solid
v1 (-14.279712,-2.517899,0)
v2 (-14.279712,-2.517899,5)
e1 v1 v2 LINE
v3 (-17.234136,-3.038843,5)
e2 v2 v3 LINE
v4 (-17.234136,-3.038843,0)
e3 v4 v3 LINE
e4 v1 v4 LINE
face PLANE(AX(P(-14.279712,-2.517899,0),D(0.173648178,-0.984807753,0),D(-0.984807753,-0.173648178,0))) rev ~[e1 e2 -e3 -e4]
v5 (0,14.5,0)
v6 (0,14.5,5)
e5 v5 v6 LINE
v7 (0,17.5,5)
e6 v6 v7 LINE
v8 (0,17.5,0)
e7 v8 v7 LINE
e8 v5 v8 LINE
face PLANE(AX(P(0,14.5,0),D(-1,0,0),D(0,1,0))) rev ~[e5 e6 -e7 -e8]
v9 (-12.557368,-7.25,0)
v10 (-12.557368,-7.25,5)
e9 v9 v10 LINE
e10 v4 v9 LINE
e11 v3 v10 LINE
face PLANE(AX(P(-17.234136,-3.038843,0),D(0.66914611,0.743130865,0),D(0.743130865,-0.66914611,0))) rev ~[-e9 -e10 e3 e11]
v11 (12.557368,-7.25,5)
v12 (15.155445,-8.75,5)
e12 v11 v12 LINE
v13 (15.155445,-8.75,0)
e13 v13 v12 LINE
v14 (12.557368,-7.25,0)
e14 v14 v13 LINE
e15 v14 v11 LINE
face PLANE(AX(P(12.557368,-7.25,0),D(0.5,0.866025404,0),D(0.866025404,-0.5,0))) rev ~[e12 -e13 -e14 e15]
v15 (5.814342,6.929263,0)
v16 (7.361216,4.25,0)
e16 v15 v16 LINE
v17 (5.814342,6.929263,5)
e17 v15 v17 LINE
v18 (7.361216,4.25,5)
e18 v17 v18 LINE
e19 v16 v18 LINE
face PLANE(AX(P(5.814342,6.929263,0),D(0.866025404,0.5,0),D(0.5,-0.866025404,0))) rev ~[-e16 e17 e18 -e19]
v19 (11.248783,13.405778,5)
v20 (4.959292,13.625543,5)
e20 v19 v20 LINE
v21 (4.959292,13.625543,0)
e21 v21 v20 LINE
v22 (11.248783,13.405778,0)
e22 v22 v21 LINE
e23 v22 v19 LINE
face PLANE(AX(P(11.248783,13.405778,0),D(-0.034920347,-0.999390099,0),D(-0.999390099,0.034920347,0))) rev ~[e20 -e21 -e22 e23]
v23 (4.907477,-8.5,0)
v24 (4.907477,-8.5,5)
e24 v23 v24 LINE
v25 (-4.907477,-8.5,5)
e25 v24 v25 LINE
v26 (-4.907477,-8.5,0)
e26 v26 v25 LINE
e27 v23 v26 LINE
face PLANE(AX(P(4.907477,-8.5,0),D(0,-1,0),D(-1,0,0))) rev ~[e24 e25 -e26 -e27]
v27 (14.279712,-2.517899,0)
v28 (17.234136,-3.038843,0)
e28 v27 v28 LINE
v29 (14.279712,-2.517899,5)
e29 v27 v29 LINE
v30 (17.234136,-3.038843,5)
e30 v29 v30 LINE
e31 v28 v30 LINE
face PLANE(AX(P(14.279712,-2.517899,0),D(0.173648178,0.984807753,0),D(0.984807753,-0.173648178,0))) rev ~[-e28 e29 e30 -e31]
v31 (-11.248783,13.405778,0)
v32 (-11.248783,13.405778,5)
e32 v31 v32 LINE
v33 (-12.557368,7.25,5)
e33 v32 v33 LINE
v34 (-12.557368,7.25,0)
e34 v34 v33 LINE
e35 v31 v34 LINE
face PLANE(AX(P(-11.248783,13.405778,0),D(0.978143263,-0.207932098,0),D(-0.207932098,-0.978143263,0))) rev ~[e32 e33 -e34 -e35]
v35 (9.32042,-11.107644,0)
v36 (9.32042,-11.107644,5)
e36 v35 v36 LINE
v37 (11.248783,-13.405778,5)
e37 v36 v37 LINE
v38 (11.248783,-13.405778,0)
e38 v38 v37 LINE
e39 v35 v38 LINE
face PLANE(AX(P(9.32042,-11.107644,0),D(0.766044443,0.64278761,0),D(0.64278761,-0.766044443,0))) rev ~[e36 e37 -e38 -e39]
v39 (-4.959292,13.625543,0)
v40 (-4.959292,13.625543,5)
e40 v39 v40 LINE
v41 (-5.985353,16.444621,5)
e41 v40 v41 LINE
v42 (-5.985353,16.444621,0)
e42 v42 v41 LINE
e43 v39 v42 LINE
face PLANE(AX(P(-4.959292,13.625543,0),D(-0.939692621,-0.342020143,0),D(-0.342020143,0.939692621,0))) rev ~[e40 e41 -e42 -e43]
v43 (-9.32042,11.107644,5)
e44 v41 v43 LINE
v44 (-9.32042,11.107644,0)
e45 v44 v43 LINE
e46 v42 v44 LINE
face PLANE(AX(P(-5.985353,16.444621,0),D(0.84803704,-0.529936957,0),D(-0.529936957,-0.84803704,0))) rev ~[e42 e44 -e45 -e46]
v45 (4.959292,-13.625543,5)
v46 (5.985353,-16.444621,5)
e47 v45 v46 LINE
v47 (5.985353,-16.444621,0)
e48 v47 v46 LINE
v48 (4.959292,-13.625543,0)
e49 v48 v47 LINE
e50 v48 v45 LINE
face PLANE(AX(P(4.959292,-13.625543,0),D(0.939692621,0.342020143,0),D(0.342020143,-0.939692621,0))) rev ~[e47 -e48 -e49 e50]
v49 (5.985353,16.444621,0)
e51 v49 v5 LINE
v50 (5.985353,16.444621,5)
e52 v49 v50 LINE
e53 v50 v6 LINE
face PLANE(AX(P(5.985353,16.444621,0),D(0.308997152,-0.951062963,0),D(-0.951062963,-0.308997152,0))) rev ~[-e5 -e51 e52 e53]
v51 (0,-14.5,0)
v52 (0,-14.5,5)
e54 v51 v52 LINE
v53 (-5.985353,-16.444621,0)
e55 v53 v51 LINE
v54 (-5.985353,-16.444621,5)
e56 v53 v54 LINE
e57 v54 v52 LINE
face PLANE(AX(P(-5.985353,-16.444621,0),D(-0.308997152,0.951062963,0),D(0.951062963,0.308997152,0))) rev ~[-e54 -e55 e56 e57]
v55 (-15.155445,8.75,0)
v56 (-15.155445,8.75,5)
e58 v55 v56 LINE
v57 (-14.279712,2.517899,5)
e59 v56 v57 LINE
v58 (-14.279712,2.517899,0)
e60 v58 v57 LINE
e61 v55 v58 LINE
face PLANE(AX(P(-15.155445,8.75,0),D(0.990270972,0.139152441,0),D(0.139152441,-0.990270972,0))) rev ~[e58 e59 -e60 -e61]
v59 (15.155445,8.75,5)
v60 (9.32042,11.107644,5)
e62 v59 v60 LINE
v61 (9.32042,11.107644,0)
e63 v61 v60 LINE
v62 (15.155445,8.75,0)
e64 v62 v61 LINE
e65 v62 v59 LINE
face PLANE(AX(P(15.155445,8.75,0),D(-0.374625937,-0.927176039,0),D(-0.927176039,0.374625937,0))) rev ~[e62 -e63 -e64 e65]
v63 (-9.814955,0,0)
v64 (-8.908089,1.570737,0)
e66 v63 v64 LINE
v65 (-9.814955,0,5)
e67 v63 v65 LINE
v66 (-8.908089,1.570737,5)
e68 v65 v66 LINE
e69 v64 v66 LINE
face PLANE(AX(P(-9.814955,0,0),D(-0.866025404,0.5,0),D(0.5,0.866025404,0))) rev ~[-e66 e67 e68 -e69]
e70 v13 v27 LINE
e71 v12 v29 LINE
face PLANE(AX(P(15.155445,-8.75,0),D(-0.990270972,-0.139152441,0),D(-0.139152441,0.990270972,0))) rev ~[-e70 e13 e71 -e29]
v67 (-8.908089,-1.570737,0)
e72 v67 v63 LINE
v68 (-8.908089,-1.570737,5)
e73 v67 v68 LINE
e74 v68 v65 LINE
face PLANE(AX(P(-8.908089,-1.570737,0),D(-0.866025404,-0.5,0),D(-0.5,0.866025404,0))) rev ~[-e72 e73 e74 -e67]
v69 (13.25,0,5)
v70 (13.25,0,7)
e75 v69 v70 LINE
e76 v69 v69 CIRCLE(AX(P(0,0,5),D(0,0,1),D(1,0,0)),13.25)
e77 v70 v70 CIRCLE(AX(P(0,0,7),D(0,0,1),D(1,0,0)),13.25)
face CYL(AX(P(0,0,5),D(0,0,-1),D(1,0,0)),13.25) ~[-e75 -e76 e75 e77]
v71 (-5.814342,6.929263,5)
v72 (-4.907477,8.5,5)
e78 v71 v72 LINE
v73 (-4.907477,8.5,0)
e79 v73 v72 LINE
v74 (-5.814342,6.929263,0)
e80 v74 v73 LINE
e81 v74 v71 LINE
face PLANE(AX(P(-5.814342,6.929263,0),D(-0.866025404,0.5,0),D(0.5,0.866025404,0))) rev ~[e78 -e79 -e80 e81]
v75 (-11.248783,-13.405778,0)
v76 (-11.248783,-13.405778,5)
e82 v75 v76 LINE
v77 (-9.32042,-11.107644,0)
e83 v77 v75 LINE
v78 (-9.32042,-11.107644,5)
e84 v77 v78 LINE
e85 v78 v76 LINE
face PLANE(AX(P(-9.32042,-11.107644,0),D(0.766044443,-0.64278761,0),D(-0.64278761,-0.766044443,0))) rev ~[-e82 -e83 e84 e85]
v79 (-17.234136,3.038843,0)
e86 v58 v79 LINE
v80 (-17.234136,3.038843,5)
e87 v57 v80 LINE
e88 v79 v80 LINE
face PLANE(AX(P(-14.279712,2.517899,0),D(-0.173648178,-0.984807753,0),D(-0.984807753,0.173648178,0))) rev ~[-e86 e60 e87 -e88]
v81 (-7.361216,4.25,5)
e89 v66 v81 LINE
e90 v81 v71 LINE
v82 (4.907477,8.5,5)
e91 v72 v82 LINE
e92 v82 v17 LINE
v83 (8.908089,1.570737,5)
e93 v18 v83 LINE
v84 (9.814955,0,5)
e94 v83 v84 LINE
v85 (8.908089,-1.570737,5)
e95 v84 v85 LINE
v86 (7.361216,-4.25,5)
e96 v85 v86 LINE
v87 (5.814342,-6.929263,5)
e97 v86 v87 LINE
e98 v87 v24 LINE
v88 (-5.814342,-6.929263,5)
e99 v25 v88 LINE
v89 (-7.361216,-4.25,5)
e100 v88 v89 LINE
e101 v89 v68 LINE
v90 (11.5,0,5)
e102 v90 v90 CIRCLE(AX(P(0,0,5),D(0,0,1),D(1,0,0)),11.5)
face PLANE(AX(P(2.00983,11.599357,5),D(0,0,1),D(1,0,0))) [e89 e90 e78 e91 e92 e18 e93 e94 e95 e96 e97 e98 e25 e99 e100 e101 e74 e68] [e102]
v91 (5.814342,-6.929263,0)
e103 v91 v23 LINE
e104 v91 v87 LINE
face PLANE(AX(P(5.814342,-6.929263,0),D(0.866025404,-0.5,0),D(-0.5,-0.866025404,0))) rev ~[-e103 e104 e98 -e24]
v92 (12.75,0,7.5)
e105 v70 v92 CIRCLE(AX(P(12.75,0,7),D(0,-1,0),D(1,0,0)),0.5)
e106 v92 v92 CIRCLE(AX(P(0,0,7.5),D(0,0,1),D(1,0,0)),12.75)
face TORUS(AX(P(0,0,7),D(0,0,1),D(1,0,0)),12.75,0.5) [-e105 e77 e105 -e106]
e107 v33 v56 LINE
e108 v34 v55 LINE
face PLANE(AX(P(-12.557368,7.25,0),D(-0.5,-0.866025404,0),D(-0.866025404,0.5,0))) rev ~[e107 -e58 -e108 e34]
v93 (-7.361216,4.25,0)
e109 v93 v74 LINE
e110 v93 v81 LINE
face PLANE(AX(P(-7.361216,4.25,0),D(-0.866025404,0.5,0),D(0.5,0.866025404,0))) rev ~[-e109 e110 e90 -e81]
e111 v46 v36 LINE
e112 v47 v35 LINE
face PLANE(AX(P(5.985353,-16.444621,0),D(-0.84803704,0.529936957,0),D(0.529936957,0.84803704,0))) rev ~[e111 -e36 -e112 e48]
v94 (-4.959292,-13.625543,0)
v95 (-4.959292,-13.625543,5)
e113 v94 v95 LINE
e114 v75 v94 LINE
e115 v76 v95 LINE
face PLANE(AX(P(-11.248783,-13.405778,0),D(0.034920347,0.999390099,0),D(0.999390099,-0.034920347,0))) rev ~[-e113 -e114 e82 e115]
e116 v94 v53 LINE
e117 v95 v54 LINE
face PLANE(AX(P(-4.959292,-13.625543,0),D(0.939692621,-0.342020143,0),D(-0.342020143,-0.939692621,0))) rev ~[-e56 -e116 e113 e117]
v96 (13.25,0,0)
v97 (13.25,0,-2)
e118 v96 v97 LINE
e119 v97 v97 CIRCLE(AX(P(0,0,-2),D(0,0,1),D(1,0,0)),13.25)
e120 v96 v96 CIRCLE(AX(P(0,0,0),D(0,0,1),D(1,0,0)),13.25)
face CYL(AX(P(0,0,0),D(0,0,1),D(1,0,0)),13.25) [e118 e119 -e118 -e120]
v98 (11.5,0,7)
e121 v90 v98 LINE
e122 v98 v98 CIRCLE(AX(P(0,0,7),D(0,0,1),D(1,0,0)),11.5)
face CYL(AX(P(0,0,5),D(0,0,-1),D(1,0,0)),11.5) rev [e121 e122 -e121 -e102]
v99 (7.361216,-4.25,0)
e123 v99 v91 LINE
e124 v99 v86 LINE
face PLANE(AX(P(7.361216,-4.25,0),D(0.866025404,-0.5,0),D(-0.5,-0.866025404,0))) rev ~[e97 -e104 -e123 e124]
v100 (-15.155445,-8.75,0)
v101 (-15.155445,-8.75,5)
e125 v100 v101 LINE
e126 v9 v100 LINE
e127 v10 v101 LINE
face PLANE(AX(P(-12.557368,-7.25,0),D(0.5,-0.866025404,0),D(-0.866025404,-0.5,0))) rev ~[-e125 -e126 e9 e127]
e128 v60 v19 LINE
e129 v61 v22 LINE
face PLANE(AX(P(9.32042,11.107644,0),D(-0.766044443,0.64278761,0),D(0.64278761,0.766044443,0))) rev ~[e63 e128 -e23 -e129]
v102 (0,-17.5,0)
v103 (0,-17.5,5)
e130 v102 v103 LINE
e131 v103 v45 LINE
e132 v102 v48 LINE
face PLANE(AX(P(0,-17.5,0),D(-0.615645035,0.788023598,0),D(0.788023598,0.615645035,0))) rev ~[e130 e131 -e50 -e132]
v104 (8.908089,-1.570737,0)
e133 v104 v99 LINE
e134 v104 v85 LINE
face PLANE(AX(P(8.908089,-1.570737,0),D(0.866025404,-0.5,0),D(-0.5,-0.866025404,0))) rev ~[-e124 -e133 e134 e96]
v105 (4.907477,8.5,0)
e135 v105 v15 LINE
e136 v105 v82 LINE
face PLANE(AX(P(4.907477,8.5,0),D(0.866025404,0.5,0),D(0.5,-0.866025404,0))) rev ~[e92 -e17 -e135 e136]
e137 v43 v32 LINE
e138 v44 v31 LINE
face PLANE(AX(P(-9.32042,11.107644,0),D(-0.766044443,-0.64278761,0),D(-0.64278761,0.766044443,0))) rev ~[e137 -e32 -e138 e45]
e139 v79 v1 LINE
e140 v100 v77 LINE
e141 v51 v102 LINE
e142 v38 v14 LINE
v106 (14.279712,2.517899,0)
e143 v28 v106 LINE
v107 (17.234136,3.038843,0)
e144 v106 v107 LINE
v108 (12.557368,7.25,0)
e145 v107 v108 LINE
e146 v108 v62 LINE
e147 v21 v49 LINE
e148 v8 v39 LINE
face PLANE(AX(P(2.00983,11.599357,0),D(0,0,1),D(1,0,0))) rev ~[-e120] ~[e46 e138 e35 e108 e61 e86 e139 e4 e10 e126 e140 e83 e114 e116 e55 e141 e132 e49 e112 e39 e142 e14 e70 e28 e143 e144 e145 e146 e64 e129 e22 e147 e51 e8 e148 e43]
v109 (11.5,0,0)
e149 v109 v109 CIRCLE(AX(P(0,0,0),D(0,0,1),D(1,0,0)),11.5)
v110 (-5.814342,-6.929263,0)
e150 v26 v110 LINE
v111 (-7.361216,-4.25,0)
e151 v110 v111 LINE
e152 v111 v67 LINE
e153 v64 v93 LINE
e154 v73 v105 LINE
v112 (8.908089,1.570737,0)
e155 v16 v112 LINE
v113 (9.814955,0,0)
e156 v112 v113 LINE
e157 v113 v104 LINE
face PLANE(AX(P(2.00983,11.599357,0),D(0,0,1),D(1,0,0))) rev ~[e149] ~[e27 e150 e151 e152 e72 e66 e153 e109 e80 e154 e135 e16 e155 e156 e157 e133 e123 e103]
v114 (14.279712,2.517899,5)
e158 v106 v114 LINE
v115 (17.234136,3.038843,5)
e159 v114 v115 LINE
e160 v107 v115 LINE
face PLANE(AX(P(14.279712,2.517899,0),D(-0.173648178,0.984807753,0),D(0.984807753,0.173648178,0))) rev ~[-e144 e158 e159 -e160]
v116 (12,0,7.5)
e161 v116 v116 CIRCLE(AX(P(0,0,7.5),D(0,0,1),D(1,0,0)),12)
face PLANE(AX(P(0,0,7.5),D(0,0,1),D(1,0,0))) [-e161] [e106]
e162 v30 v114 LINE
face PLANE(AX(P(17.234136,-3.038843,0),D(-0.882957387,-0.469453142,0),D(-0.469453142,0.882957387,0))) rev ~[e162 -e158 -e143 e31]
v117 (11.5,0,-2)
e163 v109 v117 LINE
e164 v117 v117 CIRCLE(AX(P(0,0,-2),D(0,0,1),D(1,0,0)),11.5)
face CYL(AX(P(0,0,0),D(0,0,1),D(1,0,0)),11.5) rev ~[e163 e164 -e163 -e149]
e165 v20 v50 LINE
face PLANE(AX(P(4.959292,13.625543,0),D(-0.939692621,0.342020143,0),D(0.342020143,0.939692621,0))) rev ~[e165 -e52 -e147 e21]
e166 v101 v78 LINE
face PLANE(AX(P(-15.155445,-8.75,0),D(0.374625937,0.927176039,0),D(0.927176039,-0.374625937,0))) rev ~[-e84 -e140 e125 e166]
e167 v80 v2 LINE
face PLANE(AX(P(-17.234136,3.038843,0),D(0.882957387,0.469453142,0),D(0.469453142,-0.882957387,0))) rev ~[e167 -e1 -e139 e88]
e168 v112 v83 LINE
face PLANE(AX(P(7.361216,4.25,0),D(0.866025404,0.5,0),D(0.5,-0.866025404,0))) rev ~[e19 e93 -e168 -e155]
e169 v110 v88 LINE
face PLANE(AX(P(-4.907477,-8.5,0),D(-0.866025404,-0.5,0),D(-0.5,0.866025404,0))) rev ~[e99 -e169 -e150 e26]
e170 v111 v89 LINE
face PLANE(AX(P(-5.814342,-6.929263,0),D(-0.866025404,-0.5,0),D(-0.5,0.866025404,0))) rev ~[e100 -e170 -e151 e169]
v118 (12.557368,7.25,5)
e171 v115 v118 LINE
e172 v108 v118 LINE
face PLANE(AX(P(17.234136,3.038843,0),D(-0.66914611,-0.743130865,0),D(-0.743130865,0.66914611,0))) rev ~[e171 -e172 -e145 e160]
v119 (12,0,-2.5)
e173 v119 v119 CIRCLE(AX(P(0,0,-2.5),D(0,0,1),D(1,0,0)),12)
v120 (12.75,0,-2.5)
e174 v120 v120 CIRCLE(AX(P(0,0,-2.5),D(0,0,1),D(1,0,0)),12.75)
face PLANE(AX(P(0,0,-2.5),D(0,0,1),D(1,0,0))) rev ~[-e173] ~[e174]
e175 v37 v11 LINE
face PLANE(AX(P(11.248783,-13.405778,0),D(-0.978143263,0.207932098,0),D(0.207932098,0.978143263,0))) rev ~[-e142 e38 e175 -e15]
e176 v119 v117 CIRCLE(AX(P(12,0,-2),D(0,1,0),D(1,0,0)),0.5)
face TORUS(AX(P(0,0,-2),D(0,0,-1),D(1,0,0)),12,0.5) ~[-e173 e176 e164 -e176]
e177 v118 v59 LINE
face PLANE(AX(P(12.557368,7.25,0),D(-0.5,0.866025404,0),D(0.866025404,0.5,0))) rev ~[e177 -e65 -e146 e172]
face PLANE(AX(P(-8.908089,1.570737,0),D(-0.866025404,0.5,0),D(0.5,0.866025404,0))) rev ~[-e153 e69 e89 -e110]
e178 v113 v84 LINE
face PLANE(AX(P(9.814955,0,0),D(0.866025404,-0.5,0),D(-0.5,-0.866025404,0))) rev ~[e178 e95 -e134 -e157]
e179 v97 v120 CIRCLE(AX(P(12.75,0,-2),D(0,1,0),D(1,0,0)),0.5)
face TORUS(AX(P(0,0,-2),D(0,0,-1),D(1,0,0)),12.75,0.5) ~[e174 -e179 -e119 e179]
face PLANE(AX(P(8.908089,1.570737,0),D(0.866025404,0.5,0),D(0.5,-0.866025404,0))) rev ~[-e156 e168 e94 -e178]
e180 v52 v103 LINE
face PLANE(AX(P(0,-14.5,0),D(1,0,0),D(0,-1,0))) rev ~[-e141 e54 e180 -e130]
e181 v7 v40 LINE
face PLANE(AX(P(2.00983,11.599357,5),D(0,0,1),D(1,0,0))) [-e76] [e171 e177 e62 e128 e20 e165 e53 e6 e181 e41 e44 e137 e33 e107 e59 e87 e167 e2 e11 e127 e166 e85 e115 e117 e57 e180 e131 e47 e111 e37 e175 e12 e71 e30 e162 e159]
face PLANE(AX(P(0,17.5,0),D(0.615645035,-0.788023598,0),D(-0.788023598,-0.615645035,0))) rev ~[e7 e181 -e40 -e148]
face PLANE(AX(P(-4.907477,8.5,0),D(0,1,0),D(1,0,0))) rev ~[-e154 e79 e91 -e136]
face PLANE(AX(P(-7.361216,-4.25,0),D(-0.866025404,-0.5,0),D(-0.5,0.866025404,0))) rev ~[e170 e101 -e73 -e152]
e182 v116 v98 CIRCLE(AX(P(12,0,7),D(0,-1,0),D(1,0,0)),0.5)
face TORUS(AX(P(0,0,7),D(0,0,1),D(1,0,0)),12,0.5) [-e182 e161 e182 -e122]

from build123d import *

# Parameters (mm, degrees)
F1_DEPTH = 5
F2_R     = 13.25
F2_R_2   = 11.5
F3_DEPTH = 2.5
F4_R     = 13.25
F4_R_2   = 11.5
F5_DEPTH = 2.5
F6_R     = 0.5


with BuildPart() as f1:
    # F0 (on Top) → F1 (new body)
    with BuildSketch(Plane.XY):
        with BuildLine():
            Line((3.0937469913, 8.5), (4.9592920782, 13.6255430014))
            ThreePointArc((4.9592920782, 13.6255430014), (2.5178985762, 14.2797124187), (0, 14.5))
            Line((0, 14.5), (0, 8.5))
            Line((0, 8.5), (3.0937469913, 8.5))
        make_face()
        with BuildLine():
            ThreePointArc((0, 14.5), (2.5178985762, 14.2797124187), (4.9592920782, 13.6255430014))
            Line((4.9592920782, 13.6255430014), (5.9853525082, 16.4446208638))
            Line((5.9853525082, 16.4446208638), (0, 14.5))
        make_face()
        with BuildLine():
            Line((-3.0937469913, 8.5), (0, 8.5))
            Line((0, 8.5), (0, 14.5))
            ThreePointArc((0, 14.5), (-2.5178985762, 14.2797124187), (-4.9592920782, 13.6255430014))
            Line((-4.9592920782, 13.6255430014), (-3.0937469913, 8.5))
        make_face()
        with BuildLine():
            ThreePointArc((-4.9592920782, 13.6255430014), (-2.5178985762, 14.2797124187), (0, 14.5))
            Line((0, 14.5), (0, 17.5))
            Line((0, 17.5), (-4.9592920782, 13.6255430014))
        make_face()
        with BuildLine():
            Line((5.8143424365, 6.9292634873), (9.3204203405, 11.1076444252))
            ThreePointArc((9.3204203405, 11.1076444252), (7.25, 12.5573683549), (4.9592920782, 13.6255430014))
            Line((4.9592920782, 13.6255430014), (3.0937469913, 8.5))
            Line((3.0937469913, 8.5), (4.9074772881, 8.5))
            Line((4.9074772881, 8.5), (5.8143424365, 6.9292634873))
        make_face()
        with BuildLine():
            ThreePointArc((4.9592920782, 13.6255430014), (7.25, 12.5573683549), (9.3204203405, 11.1076444252))
            Line((9.3204203405, 11.1076444252), (11.2487831695, 13.4057777546))
            Line((11.2487831695, 13.4057777546), (4.9592920782, 13.6255430014))
        make_face()
        with BuildLine():
            ThreePointArc((9.3204203405, 11.1076444252), (11.1076444252, 9.3204203405), (12.5573683549, 7.25))
            Line((12.5573683549, 7.25), (15.1554445662, 8.75))
            Line((15.1554445662, 8.75), (9.3204203405, 11.1076444252))
        make_face()
        with BuildLine():
            Line((8.9080894278, 1.5707365127), (14.2797124187, 2.5178985762))
            ThreePointArc((14.2797124187, 2.5178985762), (13.6255430014, 4.9592920782), (12.5573683549, 7.25))
            Line((12.5573683549, 7.25), (7.3612159322, 4.25))
            Line((7.3612159322, 4.25), (8.9080894278, 1.5707365127))
        make_face()
        with BuildLine():
            ThreePointArc((12.5573683549, 7.25), (13.6255430014, 4.9592920782), (14.2797124187, 2.5178985762))
            Line((14.2797124187, 2.5178985762), (17.2341356777, 3.0388431092))
            Line((17.2341356777, 3.0388431092), (12.5573683549, 7.25))
        make_face()
        with BuildLine():
            ThreePointArc((14.2797124187, -2.5178985762), (14.4448231223, -1.2637582698), (14.5, 0))
            ThreePointArc((14.5, 0), (14.4448231223, 1.2637582698), (14.2797124187, 2.5178985762))
            Line((14.2797124187, 2.5178985762), (8.9080894278, 1.5707365127))
            Line((8.9080894278, 1.5707365127), (9.8149545762, 0))
            Line((9.8149545762, 0), (8.9080894278, -1.5707365127))
            Line((8.9080894278, -1.5707365127), (14.2797124187, -2.5178985762))
        make_face()
        with BuildLine():
            ThreePointArc((14.2797124187, 2.5178985762), (14.4448231223, 1.2637582698), (14.5, 0))
            ThreePointArc((14.5, 0), (14.4448231223, -1.2637582698), (14.2797124187, -2.5178985762))
            Line((14.2797124187, -2.5178985762), (17.2341356777, -3.0388431092))
            Line((17.2341356777, -3.0388431092), (14.2797124187, 2.5178985762))
        make_face()
        with BuildLine():
            ThreePointArc((12.5573683549, -7.25), (13.6255430014, -4.9592920782), (14.2797124187, -2.5178985762))
            Line((14.2797124187, -2.5178985762), (8.9080894278, -1.5707365127))
            Line((8.9080894278, -1.5707365127), (7.3612159322, -4.25))
            Line((7.3612159322, -4.25), (12.5573683549, -7.25))
        make_face()
        with BuildLine():
            Line((15.1554445662, -8.75), (14.2797124187, -2.5178985762))
            ThreePointArc((14.2797124187, -2.5178985762), (13.6255430014, -4.9592920782), (12.5573683549, -7.25))
            Line((12.5573683549, -7.25), (15.1554445662, -8.75))
        make_face()
        with BuildLine():
            ThreePointArc((9.3204203405, -11.1076444252), (11.1076444252, -9.3204203405), (12.5573683549, -7.25))
            Line((12.5573683549, -7.25), (7.3612159322, -4.25))
            Line((7.3612159322, -4.25), (5.8143424365, -6.9292634873))
            Line((5.8143424365, -6.9292634873), (9.3204203405, -11.1076444252))
        make_face()
        with BuildLine():
            Line((11.2487831695, -13.4057777546), (12.5573683549, -7.25))
            ThreePointArc((12.5573683549, -7.25), (11.1076444252, -9.3204203405), (9.3204203405, -11.1076444252))
            Line((9.3204203405, -11.1076444252), (11.2487831695, -13.4057777546))
        make_face()
        with BuildLine():
            ThreePointArc((4.9592920782, -13.6255430014), (7.25, -12.5573683549), (9.3204203405, -11.1076444252))
            Line((9.3204203405, -11.1076444252), (5.8143424365, -6.9292634873))
            Line((5.8143424365, -6.9292634873), (4.9074772881, -8.5))
            Line((4.9074772881, -8.5), (3.0937469913, -8.5))
            Line((3.0937469913, -8.5), (4.9592920782, -13.6255430014))
        make_face()
        with BuildLine():
            Line((5.9853525082, -16.4446208638), (9.3204203405, -11.1076444252))
            ThreePointArc((9.3204203405, -11.1076444252), (7.25, -12.5573683549), (4.9592920782, -13.6255430014))
            Line((4.9592920782, -13.6255430014), (5.9853525082, -16.4446208638))
        make_face()
        with BuildLine():
            Line((0, -17.5), (4.9592920782, -13.6255430014))
            ThreePointArc((4.9592920782, -13.6255430014), (2.5178985762, -14.2797124187), (0, -14.5))
            Line((0, -14.5), (0, -17.5))
        make_face()
        with BuildLine():
            Line((0, -8.5), (-3.0937469913, -8.5))
            Line((-3.0937469913, -8.5), (-4.9592920782, -13.6255430014))
            ThreePointArc((-4.9592920782, -13.6255430014), (-2.5178985762, -14.2797124187), (0, -14.5))
            Line((0, -14.5), (0, -8.5))
        make_face()
        with BuildLine():
            ThreePointArc((0, -14.5), (-2.5178985762, -14.2797124187), (-4.9592920782, -13.6255430014))
            Line((-4.9592920782, -13.6255430014), (-5.9853525082, -16.4446208638))
            Line((-5.9853525082, -16.4446208638), (0, -14.5))
        make_face()
        with BuildLine():
            Line((7.3612159322, 4.25), (12.5573683549, 7.25))
            ThreePointArc((12.5573683549, 7.25), (11.1076444252, 9.3204203405), (9.3204203405, 11.1076444252))
            Line((9.3204203405, 11.1076444252), (5.8143424365, 6.9292634873))
            Line((5.8143424365, 6.9292634873), (7.3612159322, 4.25))
        make_face()
        with BuildLine():
            Line((3.0937469913, -8.5), (0, -8.5))
            Line((0, -8.5), (0, -14.5))
            ThreePointArc((0, -14.5), (2.5178985762, -14.2797124187), (4.9592920782, -13.6255430014))
            Line((4.9592920782, -13.6255430014), (3.0937469913, -8.5))
        make_face()
        with BuildLine():
            Line((-4.9074772881, -8.5), (-5.8143424365, -6.9292634873))
            Line((-5.8143424365, -6.9292634873), (-9.3204203405, -11.1076444252))
            ThreePointArc((-9.3204203405, -11.1076444252), (-7.25, -12.5573683549), (-4.9592920782, -13.6255430014))
            Line((-4.9592920782, -13.6255430014), (-3.0937469913, -8.5))
            Line((-3.0937469913, -8.5), (-4.9074772881, -8.5))
        make_face()
        with BuildLine():
            ThreePointArc((-4.9592920782, -13.6255430014), (-7.25, -12.5573683549), (-9.3204203405, -11.1076444252))
            Line((-9.3204203405, -11.1076444252), (-11.2487831695, -13.4057777546))
            Line((-11.2487831695, -13.4057777546), (-4.9592920782, -13.6255430014))
        make_face()
        with BuildLine():
            ThreePointArc((-9.3204203405, -11.1076444252), (-11.1076444252, -9.3204203405), (-12.5573683549, -7.25))
            Line((-12.5573683549, -7.25), (-15.1554445662, -8.75))
            Line((-15.1554445662, -8.75), (-9.3204203405, -11.1076444252))
        make_face()
        with BuildLine():
            Line((-5.8143424365, -6.9292634873), (-7.3612159322, -4.25))
            Line((-7.3612159322, -4.25), (-12.5573683549, -7.25))
            ThreePointArc((-12.5573683549, -7.25), (-11.1076444252, -9.3204203405), (-9.3204203405, -11.1076444252))
            Line((-9.3204203405, -11.1076444252), (-5.8143424365, -6.9292634873))
        make_face()
        with BuildLine():
            ThreePointArc((-12.5573683549, -7.25), (-13.6255430014, -4.9592920782), (-14.2797124187, -2.5178985762))
            Line((-14.2797124187, -2.5178985762), (-17.2341356777, -3.0388431092))
            Line((-17.2341356777, -3.0388431092), (-12.5573683549, -7.25))
        make_face()
        with BuildLine():
            Line((-7.3612159322, -4.25), (-8.9080894278, -1.5707365127))
            Line((-8.9080894278, -1.5707365127), (-14.2797124187, -2.5178985762))
            ThreePointArc((-14.2797124187, -2.5178985762), (-13.6255430014, -4.9592920782), (-12.5573683549, -7.25))
            Line((-12.5573683549, -7.25), (-7.3612159322, -4.25))
        make_face()
        with BuildLine():
            ThreePointArc((-14.2797124187, -2.5178985762), (-14.5, 0), (-14.2797124187, 2.5178985762))
            Line((-14.2797124187, 2.5178985762), (-17.2341356777, 3.0388431092))
            Line((-17.2341356777, 3.0388431092), (-14.2797124187, -2.5178985762))
        make_face()
        with BuildLine():
            Line((-9.8149545762, 0), (-8.9080894278, 1.5707365127))
            Line((-8.9080894278, 1.5707365127), (-14.2797124187, 2.5178985762))
            ThreePointArc((-14.2797124187, 2.5178985762), (-14.5, 0), (-14.2797124187, -2.5178985762))
            Line((-14.2797124187, -2.5178985762), (-8.9080894278, -1.5707365127))
            Line((-8.9080894278, -1.5707365127), (-9.8149545762, 0))
        make_face()
        with BuildLine():
            ThreePointArc((-14.2797124187, 2.5178985762), (-13.6255430014, 4.9592920782), (-12.5573683549, 7.25))
            Line((-12.5573683549, 7.25), (-15.1554445662, 8.75))
            Line((-15.1554445662, 8.75), (-14.2797124187, 2.5178985762))
        make_face()
        with BuildLine():
            Line((-8.9080894278, 1.5707365127), (-7.3612159322, 4.25))
            Line((-7.3612159322, 4.25), (-12.5573683549, 7.25))
            ThreePointArc((-12.5573683549, 7.25), (-13.6255430014, 4.9592920782), (-14.2797124187, 2.5178985762))
            Line((-14.2797124187, 2.5178985762), (-8.9080894278, 1.5707365127))
        make_face()
        with BuildLine():
            ThreePointArc((-12.5573683549, 7.25), (-11.1076444252, 9.3204203405), (-9.3204203405, 11.1076444252))
            Line((-9.3204203405, 11.1076444252), (-11.2487831695, 13.4057777546))
            Line((-11.2487831695, 13.4057777546), (-12.5573683549, 7.25))
        make_face()
        with BuildLine():
            Line((-7.3612159322, 4.25), (-5.8143424365, 6.9292634873))
            Line((-5.8143424365, 6.9292634873), (-9.3204203405, 11.1076444252))
            ThreePointArc((-9.3204203405, 11.1076444252), (-11.1076444252, 9.3204203405), (-12.5573683549, 7.25))
            Line((-12.5573683549, 7.25), (-7.3612159322, 4.25))
        make_face()
        with BuildLine():
            ThreePointArc((-9.3204203405, 11.1076444252), (-7.25, 12.5573683549), (-4.9592920782, 13.6255430014))
            Line((-4.9592920782, 13.6255430014), (-5.9853525082, 16.4446208638))
            Line((-5.9853525082, 16.4446208638), (-9.3204203405, 11.1076444252))
        make_face()
        with BuildLine():
            Line((-4.9074772881, 8.5), (-3.0937469913, 8.5))
            Line((-3.0937469913, 8.5), (-4.9592920782, 13.6255430014))
            ThreePointArc((-4.9592920782, 13.6255430014), (-7.25, 12.5573683549), (-9.3204203405, 11.1076444252))
            Line((-9.3204203405, 11.1076444252), (-5.8143424365, 6.9292634873))
            Line((-5.8143424365, 6.9292634873), (-4.9074772881, 8.5))
        make_face()
    extrude(amount=F1_DEPTH)

    # F2 (on face) → F3 (join)
    with BuildSketch(Plane.XY.offset(5)):
        Circle(F2_R)
        Circle(F2_R_2, mode=Mode.SUBTRACT)
    extrude(amount=F3_DEPTH)

    # F4 (on face) → F5 (join)
    with BuildSketch(Plane.XY):
        Circle(F4_R)
        Circle(F4_R_2, mode=Mode.SUBTRACT)
    extrude(amount=-F5_DEPTH)

    # F6
    f6_edges = [f1.edges().sort_by_distance(p)[0] for p in [
        (-13.25, 0, 7.5),
        (-11.5, 0, 7.5),
        (-13.25, 0, -2.5),
        (-11.5, 0, -2.5),
    ]]
    fillet(f6_edges, radius=F6_R)


solid = f1.part
